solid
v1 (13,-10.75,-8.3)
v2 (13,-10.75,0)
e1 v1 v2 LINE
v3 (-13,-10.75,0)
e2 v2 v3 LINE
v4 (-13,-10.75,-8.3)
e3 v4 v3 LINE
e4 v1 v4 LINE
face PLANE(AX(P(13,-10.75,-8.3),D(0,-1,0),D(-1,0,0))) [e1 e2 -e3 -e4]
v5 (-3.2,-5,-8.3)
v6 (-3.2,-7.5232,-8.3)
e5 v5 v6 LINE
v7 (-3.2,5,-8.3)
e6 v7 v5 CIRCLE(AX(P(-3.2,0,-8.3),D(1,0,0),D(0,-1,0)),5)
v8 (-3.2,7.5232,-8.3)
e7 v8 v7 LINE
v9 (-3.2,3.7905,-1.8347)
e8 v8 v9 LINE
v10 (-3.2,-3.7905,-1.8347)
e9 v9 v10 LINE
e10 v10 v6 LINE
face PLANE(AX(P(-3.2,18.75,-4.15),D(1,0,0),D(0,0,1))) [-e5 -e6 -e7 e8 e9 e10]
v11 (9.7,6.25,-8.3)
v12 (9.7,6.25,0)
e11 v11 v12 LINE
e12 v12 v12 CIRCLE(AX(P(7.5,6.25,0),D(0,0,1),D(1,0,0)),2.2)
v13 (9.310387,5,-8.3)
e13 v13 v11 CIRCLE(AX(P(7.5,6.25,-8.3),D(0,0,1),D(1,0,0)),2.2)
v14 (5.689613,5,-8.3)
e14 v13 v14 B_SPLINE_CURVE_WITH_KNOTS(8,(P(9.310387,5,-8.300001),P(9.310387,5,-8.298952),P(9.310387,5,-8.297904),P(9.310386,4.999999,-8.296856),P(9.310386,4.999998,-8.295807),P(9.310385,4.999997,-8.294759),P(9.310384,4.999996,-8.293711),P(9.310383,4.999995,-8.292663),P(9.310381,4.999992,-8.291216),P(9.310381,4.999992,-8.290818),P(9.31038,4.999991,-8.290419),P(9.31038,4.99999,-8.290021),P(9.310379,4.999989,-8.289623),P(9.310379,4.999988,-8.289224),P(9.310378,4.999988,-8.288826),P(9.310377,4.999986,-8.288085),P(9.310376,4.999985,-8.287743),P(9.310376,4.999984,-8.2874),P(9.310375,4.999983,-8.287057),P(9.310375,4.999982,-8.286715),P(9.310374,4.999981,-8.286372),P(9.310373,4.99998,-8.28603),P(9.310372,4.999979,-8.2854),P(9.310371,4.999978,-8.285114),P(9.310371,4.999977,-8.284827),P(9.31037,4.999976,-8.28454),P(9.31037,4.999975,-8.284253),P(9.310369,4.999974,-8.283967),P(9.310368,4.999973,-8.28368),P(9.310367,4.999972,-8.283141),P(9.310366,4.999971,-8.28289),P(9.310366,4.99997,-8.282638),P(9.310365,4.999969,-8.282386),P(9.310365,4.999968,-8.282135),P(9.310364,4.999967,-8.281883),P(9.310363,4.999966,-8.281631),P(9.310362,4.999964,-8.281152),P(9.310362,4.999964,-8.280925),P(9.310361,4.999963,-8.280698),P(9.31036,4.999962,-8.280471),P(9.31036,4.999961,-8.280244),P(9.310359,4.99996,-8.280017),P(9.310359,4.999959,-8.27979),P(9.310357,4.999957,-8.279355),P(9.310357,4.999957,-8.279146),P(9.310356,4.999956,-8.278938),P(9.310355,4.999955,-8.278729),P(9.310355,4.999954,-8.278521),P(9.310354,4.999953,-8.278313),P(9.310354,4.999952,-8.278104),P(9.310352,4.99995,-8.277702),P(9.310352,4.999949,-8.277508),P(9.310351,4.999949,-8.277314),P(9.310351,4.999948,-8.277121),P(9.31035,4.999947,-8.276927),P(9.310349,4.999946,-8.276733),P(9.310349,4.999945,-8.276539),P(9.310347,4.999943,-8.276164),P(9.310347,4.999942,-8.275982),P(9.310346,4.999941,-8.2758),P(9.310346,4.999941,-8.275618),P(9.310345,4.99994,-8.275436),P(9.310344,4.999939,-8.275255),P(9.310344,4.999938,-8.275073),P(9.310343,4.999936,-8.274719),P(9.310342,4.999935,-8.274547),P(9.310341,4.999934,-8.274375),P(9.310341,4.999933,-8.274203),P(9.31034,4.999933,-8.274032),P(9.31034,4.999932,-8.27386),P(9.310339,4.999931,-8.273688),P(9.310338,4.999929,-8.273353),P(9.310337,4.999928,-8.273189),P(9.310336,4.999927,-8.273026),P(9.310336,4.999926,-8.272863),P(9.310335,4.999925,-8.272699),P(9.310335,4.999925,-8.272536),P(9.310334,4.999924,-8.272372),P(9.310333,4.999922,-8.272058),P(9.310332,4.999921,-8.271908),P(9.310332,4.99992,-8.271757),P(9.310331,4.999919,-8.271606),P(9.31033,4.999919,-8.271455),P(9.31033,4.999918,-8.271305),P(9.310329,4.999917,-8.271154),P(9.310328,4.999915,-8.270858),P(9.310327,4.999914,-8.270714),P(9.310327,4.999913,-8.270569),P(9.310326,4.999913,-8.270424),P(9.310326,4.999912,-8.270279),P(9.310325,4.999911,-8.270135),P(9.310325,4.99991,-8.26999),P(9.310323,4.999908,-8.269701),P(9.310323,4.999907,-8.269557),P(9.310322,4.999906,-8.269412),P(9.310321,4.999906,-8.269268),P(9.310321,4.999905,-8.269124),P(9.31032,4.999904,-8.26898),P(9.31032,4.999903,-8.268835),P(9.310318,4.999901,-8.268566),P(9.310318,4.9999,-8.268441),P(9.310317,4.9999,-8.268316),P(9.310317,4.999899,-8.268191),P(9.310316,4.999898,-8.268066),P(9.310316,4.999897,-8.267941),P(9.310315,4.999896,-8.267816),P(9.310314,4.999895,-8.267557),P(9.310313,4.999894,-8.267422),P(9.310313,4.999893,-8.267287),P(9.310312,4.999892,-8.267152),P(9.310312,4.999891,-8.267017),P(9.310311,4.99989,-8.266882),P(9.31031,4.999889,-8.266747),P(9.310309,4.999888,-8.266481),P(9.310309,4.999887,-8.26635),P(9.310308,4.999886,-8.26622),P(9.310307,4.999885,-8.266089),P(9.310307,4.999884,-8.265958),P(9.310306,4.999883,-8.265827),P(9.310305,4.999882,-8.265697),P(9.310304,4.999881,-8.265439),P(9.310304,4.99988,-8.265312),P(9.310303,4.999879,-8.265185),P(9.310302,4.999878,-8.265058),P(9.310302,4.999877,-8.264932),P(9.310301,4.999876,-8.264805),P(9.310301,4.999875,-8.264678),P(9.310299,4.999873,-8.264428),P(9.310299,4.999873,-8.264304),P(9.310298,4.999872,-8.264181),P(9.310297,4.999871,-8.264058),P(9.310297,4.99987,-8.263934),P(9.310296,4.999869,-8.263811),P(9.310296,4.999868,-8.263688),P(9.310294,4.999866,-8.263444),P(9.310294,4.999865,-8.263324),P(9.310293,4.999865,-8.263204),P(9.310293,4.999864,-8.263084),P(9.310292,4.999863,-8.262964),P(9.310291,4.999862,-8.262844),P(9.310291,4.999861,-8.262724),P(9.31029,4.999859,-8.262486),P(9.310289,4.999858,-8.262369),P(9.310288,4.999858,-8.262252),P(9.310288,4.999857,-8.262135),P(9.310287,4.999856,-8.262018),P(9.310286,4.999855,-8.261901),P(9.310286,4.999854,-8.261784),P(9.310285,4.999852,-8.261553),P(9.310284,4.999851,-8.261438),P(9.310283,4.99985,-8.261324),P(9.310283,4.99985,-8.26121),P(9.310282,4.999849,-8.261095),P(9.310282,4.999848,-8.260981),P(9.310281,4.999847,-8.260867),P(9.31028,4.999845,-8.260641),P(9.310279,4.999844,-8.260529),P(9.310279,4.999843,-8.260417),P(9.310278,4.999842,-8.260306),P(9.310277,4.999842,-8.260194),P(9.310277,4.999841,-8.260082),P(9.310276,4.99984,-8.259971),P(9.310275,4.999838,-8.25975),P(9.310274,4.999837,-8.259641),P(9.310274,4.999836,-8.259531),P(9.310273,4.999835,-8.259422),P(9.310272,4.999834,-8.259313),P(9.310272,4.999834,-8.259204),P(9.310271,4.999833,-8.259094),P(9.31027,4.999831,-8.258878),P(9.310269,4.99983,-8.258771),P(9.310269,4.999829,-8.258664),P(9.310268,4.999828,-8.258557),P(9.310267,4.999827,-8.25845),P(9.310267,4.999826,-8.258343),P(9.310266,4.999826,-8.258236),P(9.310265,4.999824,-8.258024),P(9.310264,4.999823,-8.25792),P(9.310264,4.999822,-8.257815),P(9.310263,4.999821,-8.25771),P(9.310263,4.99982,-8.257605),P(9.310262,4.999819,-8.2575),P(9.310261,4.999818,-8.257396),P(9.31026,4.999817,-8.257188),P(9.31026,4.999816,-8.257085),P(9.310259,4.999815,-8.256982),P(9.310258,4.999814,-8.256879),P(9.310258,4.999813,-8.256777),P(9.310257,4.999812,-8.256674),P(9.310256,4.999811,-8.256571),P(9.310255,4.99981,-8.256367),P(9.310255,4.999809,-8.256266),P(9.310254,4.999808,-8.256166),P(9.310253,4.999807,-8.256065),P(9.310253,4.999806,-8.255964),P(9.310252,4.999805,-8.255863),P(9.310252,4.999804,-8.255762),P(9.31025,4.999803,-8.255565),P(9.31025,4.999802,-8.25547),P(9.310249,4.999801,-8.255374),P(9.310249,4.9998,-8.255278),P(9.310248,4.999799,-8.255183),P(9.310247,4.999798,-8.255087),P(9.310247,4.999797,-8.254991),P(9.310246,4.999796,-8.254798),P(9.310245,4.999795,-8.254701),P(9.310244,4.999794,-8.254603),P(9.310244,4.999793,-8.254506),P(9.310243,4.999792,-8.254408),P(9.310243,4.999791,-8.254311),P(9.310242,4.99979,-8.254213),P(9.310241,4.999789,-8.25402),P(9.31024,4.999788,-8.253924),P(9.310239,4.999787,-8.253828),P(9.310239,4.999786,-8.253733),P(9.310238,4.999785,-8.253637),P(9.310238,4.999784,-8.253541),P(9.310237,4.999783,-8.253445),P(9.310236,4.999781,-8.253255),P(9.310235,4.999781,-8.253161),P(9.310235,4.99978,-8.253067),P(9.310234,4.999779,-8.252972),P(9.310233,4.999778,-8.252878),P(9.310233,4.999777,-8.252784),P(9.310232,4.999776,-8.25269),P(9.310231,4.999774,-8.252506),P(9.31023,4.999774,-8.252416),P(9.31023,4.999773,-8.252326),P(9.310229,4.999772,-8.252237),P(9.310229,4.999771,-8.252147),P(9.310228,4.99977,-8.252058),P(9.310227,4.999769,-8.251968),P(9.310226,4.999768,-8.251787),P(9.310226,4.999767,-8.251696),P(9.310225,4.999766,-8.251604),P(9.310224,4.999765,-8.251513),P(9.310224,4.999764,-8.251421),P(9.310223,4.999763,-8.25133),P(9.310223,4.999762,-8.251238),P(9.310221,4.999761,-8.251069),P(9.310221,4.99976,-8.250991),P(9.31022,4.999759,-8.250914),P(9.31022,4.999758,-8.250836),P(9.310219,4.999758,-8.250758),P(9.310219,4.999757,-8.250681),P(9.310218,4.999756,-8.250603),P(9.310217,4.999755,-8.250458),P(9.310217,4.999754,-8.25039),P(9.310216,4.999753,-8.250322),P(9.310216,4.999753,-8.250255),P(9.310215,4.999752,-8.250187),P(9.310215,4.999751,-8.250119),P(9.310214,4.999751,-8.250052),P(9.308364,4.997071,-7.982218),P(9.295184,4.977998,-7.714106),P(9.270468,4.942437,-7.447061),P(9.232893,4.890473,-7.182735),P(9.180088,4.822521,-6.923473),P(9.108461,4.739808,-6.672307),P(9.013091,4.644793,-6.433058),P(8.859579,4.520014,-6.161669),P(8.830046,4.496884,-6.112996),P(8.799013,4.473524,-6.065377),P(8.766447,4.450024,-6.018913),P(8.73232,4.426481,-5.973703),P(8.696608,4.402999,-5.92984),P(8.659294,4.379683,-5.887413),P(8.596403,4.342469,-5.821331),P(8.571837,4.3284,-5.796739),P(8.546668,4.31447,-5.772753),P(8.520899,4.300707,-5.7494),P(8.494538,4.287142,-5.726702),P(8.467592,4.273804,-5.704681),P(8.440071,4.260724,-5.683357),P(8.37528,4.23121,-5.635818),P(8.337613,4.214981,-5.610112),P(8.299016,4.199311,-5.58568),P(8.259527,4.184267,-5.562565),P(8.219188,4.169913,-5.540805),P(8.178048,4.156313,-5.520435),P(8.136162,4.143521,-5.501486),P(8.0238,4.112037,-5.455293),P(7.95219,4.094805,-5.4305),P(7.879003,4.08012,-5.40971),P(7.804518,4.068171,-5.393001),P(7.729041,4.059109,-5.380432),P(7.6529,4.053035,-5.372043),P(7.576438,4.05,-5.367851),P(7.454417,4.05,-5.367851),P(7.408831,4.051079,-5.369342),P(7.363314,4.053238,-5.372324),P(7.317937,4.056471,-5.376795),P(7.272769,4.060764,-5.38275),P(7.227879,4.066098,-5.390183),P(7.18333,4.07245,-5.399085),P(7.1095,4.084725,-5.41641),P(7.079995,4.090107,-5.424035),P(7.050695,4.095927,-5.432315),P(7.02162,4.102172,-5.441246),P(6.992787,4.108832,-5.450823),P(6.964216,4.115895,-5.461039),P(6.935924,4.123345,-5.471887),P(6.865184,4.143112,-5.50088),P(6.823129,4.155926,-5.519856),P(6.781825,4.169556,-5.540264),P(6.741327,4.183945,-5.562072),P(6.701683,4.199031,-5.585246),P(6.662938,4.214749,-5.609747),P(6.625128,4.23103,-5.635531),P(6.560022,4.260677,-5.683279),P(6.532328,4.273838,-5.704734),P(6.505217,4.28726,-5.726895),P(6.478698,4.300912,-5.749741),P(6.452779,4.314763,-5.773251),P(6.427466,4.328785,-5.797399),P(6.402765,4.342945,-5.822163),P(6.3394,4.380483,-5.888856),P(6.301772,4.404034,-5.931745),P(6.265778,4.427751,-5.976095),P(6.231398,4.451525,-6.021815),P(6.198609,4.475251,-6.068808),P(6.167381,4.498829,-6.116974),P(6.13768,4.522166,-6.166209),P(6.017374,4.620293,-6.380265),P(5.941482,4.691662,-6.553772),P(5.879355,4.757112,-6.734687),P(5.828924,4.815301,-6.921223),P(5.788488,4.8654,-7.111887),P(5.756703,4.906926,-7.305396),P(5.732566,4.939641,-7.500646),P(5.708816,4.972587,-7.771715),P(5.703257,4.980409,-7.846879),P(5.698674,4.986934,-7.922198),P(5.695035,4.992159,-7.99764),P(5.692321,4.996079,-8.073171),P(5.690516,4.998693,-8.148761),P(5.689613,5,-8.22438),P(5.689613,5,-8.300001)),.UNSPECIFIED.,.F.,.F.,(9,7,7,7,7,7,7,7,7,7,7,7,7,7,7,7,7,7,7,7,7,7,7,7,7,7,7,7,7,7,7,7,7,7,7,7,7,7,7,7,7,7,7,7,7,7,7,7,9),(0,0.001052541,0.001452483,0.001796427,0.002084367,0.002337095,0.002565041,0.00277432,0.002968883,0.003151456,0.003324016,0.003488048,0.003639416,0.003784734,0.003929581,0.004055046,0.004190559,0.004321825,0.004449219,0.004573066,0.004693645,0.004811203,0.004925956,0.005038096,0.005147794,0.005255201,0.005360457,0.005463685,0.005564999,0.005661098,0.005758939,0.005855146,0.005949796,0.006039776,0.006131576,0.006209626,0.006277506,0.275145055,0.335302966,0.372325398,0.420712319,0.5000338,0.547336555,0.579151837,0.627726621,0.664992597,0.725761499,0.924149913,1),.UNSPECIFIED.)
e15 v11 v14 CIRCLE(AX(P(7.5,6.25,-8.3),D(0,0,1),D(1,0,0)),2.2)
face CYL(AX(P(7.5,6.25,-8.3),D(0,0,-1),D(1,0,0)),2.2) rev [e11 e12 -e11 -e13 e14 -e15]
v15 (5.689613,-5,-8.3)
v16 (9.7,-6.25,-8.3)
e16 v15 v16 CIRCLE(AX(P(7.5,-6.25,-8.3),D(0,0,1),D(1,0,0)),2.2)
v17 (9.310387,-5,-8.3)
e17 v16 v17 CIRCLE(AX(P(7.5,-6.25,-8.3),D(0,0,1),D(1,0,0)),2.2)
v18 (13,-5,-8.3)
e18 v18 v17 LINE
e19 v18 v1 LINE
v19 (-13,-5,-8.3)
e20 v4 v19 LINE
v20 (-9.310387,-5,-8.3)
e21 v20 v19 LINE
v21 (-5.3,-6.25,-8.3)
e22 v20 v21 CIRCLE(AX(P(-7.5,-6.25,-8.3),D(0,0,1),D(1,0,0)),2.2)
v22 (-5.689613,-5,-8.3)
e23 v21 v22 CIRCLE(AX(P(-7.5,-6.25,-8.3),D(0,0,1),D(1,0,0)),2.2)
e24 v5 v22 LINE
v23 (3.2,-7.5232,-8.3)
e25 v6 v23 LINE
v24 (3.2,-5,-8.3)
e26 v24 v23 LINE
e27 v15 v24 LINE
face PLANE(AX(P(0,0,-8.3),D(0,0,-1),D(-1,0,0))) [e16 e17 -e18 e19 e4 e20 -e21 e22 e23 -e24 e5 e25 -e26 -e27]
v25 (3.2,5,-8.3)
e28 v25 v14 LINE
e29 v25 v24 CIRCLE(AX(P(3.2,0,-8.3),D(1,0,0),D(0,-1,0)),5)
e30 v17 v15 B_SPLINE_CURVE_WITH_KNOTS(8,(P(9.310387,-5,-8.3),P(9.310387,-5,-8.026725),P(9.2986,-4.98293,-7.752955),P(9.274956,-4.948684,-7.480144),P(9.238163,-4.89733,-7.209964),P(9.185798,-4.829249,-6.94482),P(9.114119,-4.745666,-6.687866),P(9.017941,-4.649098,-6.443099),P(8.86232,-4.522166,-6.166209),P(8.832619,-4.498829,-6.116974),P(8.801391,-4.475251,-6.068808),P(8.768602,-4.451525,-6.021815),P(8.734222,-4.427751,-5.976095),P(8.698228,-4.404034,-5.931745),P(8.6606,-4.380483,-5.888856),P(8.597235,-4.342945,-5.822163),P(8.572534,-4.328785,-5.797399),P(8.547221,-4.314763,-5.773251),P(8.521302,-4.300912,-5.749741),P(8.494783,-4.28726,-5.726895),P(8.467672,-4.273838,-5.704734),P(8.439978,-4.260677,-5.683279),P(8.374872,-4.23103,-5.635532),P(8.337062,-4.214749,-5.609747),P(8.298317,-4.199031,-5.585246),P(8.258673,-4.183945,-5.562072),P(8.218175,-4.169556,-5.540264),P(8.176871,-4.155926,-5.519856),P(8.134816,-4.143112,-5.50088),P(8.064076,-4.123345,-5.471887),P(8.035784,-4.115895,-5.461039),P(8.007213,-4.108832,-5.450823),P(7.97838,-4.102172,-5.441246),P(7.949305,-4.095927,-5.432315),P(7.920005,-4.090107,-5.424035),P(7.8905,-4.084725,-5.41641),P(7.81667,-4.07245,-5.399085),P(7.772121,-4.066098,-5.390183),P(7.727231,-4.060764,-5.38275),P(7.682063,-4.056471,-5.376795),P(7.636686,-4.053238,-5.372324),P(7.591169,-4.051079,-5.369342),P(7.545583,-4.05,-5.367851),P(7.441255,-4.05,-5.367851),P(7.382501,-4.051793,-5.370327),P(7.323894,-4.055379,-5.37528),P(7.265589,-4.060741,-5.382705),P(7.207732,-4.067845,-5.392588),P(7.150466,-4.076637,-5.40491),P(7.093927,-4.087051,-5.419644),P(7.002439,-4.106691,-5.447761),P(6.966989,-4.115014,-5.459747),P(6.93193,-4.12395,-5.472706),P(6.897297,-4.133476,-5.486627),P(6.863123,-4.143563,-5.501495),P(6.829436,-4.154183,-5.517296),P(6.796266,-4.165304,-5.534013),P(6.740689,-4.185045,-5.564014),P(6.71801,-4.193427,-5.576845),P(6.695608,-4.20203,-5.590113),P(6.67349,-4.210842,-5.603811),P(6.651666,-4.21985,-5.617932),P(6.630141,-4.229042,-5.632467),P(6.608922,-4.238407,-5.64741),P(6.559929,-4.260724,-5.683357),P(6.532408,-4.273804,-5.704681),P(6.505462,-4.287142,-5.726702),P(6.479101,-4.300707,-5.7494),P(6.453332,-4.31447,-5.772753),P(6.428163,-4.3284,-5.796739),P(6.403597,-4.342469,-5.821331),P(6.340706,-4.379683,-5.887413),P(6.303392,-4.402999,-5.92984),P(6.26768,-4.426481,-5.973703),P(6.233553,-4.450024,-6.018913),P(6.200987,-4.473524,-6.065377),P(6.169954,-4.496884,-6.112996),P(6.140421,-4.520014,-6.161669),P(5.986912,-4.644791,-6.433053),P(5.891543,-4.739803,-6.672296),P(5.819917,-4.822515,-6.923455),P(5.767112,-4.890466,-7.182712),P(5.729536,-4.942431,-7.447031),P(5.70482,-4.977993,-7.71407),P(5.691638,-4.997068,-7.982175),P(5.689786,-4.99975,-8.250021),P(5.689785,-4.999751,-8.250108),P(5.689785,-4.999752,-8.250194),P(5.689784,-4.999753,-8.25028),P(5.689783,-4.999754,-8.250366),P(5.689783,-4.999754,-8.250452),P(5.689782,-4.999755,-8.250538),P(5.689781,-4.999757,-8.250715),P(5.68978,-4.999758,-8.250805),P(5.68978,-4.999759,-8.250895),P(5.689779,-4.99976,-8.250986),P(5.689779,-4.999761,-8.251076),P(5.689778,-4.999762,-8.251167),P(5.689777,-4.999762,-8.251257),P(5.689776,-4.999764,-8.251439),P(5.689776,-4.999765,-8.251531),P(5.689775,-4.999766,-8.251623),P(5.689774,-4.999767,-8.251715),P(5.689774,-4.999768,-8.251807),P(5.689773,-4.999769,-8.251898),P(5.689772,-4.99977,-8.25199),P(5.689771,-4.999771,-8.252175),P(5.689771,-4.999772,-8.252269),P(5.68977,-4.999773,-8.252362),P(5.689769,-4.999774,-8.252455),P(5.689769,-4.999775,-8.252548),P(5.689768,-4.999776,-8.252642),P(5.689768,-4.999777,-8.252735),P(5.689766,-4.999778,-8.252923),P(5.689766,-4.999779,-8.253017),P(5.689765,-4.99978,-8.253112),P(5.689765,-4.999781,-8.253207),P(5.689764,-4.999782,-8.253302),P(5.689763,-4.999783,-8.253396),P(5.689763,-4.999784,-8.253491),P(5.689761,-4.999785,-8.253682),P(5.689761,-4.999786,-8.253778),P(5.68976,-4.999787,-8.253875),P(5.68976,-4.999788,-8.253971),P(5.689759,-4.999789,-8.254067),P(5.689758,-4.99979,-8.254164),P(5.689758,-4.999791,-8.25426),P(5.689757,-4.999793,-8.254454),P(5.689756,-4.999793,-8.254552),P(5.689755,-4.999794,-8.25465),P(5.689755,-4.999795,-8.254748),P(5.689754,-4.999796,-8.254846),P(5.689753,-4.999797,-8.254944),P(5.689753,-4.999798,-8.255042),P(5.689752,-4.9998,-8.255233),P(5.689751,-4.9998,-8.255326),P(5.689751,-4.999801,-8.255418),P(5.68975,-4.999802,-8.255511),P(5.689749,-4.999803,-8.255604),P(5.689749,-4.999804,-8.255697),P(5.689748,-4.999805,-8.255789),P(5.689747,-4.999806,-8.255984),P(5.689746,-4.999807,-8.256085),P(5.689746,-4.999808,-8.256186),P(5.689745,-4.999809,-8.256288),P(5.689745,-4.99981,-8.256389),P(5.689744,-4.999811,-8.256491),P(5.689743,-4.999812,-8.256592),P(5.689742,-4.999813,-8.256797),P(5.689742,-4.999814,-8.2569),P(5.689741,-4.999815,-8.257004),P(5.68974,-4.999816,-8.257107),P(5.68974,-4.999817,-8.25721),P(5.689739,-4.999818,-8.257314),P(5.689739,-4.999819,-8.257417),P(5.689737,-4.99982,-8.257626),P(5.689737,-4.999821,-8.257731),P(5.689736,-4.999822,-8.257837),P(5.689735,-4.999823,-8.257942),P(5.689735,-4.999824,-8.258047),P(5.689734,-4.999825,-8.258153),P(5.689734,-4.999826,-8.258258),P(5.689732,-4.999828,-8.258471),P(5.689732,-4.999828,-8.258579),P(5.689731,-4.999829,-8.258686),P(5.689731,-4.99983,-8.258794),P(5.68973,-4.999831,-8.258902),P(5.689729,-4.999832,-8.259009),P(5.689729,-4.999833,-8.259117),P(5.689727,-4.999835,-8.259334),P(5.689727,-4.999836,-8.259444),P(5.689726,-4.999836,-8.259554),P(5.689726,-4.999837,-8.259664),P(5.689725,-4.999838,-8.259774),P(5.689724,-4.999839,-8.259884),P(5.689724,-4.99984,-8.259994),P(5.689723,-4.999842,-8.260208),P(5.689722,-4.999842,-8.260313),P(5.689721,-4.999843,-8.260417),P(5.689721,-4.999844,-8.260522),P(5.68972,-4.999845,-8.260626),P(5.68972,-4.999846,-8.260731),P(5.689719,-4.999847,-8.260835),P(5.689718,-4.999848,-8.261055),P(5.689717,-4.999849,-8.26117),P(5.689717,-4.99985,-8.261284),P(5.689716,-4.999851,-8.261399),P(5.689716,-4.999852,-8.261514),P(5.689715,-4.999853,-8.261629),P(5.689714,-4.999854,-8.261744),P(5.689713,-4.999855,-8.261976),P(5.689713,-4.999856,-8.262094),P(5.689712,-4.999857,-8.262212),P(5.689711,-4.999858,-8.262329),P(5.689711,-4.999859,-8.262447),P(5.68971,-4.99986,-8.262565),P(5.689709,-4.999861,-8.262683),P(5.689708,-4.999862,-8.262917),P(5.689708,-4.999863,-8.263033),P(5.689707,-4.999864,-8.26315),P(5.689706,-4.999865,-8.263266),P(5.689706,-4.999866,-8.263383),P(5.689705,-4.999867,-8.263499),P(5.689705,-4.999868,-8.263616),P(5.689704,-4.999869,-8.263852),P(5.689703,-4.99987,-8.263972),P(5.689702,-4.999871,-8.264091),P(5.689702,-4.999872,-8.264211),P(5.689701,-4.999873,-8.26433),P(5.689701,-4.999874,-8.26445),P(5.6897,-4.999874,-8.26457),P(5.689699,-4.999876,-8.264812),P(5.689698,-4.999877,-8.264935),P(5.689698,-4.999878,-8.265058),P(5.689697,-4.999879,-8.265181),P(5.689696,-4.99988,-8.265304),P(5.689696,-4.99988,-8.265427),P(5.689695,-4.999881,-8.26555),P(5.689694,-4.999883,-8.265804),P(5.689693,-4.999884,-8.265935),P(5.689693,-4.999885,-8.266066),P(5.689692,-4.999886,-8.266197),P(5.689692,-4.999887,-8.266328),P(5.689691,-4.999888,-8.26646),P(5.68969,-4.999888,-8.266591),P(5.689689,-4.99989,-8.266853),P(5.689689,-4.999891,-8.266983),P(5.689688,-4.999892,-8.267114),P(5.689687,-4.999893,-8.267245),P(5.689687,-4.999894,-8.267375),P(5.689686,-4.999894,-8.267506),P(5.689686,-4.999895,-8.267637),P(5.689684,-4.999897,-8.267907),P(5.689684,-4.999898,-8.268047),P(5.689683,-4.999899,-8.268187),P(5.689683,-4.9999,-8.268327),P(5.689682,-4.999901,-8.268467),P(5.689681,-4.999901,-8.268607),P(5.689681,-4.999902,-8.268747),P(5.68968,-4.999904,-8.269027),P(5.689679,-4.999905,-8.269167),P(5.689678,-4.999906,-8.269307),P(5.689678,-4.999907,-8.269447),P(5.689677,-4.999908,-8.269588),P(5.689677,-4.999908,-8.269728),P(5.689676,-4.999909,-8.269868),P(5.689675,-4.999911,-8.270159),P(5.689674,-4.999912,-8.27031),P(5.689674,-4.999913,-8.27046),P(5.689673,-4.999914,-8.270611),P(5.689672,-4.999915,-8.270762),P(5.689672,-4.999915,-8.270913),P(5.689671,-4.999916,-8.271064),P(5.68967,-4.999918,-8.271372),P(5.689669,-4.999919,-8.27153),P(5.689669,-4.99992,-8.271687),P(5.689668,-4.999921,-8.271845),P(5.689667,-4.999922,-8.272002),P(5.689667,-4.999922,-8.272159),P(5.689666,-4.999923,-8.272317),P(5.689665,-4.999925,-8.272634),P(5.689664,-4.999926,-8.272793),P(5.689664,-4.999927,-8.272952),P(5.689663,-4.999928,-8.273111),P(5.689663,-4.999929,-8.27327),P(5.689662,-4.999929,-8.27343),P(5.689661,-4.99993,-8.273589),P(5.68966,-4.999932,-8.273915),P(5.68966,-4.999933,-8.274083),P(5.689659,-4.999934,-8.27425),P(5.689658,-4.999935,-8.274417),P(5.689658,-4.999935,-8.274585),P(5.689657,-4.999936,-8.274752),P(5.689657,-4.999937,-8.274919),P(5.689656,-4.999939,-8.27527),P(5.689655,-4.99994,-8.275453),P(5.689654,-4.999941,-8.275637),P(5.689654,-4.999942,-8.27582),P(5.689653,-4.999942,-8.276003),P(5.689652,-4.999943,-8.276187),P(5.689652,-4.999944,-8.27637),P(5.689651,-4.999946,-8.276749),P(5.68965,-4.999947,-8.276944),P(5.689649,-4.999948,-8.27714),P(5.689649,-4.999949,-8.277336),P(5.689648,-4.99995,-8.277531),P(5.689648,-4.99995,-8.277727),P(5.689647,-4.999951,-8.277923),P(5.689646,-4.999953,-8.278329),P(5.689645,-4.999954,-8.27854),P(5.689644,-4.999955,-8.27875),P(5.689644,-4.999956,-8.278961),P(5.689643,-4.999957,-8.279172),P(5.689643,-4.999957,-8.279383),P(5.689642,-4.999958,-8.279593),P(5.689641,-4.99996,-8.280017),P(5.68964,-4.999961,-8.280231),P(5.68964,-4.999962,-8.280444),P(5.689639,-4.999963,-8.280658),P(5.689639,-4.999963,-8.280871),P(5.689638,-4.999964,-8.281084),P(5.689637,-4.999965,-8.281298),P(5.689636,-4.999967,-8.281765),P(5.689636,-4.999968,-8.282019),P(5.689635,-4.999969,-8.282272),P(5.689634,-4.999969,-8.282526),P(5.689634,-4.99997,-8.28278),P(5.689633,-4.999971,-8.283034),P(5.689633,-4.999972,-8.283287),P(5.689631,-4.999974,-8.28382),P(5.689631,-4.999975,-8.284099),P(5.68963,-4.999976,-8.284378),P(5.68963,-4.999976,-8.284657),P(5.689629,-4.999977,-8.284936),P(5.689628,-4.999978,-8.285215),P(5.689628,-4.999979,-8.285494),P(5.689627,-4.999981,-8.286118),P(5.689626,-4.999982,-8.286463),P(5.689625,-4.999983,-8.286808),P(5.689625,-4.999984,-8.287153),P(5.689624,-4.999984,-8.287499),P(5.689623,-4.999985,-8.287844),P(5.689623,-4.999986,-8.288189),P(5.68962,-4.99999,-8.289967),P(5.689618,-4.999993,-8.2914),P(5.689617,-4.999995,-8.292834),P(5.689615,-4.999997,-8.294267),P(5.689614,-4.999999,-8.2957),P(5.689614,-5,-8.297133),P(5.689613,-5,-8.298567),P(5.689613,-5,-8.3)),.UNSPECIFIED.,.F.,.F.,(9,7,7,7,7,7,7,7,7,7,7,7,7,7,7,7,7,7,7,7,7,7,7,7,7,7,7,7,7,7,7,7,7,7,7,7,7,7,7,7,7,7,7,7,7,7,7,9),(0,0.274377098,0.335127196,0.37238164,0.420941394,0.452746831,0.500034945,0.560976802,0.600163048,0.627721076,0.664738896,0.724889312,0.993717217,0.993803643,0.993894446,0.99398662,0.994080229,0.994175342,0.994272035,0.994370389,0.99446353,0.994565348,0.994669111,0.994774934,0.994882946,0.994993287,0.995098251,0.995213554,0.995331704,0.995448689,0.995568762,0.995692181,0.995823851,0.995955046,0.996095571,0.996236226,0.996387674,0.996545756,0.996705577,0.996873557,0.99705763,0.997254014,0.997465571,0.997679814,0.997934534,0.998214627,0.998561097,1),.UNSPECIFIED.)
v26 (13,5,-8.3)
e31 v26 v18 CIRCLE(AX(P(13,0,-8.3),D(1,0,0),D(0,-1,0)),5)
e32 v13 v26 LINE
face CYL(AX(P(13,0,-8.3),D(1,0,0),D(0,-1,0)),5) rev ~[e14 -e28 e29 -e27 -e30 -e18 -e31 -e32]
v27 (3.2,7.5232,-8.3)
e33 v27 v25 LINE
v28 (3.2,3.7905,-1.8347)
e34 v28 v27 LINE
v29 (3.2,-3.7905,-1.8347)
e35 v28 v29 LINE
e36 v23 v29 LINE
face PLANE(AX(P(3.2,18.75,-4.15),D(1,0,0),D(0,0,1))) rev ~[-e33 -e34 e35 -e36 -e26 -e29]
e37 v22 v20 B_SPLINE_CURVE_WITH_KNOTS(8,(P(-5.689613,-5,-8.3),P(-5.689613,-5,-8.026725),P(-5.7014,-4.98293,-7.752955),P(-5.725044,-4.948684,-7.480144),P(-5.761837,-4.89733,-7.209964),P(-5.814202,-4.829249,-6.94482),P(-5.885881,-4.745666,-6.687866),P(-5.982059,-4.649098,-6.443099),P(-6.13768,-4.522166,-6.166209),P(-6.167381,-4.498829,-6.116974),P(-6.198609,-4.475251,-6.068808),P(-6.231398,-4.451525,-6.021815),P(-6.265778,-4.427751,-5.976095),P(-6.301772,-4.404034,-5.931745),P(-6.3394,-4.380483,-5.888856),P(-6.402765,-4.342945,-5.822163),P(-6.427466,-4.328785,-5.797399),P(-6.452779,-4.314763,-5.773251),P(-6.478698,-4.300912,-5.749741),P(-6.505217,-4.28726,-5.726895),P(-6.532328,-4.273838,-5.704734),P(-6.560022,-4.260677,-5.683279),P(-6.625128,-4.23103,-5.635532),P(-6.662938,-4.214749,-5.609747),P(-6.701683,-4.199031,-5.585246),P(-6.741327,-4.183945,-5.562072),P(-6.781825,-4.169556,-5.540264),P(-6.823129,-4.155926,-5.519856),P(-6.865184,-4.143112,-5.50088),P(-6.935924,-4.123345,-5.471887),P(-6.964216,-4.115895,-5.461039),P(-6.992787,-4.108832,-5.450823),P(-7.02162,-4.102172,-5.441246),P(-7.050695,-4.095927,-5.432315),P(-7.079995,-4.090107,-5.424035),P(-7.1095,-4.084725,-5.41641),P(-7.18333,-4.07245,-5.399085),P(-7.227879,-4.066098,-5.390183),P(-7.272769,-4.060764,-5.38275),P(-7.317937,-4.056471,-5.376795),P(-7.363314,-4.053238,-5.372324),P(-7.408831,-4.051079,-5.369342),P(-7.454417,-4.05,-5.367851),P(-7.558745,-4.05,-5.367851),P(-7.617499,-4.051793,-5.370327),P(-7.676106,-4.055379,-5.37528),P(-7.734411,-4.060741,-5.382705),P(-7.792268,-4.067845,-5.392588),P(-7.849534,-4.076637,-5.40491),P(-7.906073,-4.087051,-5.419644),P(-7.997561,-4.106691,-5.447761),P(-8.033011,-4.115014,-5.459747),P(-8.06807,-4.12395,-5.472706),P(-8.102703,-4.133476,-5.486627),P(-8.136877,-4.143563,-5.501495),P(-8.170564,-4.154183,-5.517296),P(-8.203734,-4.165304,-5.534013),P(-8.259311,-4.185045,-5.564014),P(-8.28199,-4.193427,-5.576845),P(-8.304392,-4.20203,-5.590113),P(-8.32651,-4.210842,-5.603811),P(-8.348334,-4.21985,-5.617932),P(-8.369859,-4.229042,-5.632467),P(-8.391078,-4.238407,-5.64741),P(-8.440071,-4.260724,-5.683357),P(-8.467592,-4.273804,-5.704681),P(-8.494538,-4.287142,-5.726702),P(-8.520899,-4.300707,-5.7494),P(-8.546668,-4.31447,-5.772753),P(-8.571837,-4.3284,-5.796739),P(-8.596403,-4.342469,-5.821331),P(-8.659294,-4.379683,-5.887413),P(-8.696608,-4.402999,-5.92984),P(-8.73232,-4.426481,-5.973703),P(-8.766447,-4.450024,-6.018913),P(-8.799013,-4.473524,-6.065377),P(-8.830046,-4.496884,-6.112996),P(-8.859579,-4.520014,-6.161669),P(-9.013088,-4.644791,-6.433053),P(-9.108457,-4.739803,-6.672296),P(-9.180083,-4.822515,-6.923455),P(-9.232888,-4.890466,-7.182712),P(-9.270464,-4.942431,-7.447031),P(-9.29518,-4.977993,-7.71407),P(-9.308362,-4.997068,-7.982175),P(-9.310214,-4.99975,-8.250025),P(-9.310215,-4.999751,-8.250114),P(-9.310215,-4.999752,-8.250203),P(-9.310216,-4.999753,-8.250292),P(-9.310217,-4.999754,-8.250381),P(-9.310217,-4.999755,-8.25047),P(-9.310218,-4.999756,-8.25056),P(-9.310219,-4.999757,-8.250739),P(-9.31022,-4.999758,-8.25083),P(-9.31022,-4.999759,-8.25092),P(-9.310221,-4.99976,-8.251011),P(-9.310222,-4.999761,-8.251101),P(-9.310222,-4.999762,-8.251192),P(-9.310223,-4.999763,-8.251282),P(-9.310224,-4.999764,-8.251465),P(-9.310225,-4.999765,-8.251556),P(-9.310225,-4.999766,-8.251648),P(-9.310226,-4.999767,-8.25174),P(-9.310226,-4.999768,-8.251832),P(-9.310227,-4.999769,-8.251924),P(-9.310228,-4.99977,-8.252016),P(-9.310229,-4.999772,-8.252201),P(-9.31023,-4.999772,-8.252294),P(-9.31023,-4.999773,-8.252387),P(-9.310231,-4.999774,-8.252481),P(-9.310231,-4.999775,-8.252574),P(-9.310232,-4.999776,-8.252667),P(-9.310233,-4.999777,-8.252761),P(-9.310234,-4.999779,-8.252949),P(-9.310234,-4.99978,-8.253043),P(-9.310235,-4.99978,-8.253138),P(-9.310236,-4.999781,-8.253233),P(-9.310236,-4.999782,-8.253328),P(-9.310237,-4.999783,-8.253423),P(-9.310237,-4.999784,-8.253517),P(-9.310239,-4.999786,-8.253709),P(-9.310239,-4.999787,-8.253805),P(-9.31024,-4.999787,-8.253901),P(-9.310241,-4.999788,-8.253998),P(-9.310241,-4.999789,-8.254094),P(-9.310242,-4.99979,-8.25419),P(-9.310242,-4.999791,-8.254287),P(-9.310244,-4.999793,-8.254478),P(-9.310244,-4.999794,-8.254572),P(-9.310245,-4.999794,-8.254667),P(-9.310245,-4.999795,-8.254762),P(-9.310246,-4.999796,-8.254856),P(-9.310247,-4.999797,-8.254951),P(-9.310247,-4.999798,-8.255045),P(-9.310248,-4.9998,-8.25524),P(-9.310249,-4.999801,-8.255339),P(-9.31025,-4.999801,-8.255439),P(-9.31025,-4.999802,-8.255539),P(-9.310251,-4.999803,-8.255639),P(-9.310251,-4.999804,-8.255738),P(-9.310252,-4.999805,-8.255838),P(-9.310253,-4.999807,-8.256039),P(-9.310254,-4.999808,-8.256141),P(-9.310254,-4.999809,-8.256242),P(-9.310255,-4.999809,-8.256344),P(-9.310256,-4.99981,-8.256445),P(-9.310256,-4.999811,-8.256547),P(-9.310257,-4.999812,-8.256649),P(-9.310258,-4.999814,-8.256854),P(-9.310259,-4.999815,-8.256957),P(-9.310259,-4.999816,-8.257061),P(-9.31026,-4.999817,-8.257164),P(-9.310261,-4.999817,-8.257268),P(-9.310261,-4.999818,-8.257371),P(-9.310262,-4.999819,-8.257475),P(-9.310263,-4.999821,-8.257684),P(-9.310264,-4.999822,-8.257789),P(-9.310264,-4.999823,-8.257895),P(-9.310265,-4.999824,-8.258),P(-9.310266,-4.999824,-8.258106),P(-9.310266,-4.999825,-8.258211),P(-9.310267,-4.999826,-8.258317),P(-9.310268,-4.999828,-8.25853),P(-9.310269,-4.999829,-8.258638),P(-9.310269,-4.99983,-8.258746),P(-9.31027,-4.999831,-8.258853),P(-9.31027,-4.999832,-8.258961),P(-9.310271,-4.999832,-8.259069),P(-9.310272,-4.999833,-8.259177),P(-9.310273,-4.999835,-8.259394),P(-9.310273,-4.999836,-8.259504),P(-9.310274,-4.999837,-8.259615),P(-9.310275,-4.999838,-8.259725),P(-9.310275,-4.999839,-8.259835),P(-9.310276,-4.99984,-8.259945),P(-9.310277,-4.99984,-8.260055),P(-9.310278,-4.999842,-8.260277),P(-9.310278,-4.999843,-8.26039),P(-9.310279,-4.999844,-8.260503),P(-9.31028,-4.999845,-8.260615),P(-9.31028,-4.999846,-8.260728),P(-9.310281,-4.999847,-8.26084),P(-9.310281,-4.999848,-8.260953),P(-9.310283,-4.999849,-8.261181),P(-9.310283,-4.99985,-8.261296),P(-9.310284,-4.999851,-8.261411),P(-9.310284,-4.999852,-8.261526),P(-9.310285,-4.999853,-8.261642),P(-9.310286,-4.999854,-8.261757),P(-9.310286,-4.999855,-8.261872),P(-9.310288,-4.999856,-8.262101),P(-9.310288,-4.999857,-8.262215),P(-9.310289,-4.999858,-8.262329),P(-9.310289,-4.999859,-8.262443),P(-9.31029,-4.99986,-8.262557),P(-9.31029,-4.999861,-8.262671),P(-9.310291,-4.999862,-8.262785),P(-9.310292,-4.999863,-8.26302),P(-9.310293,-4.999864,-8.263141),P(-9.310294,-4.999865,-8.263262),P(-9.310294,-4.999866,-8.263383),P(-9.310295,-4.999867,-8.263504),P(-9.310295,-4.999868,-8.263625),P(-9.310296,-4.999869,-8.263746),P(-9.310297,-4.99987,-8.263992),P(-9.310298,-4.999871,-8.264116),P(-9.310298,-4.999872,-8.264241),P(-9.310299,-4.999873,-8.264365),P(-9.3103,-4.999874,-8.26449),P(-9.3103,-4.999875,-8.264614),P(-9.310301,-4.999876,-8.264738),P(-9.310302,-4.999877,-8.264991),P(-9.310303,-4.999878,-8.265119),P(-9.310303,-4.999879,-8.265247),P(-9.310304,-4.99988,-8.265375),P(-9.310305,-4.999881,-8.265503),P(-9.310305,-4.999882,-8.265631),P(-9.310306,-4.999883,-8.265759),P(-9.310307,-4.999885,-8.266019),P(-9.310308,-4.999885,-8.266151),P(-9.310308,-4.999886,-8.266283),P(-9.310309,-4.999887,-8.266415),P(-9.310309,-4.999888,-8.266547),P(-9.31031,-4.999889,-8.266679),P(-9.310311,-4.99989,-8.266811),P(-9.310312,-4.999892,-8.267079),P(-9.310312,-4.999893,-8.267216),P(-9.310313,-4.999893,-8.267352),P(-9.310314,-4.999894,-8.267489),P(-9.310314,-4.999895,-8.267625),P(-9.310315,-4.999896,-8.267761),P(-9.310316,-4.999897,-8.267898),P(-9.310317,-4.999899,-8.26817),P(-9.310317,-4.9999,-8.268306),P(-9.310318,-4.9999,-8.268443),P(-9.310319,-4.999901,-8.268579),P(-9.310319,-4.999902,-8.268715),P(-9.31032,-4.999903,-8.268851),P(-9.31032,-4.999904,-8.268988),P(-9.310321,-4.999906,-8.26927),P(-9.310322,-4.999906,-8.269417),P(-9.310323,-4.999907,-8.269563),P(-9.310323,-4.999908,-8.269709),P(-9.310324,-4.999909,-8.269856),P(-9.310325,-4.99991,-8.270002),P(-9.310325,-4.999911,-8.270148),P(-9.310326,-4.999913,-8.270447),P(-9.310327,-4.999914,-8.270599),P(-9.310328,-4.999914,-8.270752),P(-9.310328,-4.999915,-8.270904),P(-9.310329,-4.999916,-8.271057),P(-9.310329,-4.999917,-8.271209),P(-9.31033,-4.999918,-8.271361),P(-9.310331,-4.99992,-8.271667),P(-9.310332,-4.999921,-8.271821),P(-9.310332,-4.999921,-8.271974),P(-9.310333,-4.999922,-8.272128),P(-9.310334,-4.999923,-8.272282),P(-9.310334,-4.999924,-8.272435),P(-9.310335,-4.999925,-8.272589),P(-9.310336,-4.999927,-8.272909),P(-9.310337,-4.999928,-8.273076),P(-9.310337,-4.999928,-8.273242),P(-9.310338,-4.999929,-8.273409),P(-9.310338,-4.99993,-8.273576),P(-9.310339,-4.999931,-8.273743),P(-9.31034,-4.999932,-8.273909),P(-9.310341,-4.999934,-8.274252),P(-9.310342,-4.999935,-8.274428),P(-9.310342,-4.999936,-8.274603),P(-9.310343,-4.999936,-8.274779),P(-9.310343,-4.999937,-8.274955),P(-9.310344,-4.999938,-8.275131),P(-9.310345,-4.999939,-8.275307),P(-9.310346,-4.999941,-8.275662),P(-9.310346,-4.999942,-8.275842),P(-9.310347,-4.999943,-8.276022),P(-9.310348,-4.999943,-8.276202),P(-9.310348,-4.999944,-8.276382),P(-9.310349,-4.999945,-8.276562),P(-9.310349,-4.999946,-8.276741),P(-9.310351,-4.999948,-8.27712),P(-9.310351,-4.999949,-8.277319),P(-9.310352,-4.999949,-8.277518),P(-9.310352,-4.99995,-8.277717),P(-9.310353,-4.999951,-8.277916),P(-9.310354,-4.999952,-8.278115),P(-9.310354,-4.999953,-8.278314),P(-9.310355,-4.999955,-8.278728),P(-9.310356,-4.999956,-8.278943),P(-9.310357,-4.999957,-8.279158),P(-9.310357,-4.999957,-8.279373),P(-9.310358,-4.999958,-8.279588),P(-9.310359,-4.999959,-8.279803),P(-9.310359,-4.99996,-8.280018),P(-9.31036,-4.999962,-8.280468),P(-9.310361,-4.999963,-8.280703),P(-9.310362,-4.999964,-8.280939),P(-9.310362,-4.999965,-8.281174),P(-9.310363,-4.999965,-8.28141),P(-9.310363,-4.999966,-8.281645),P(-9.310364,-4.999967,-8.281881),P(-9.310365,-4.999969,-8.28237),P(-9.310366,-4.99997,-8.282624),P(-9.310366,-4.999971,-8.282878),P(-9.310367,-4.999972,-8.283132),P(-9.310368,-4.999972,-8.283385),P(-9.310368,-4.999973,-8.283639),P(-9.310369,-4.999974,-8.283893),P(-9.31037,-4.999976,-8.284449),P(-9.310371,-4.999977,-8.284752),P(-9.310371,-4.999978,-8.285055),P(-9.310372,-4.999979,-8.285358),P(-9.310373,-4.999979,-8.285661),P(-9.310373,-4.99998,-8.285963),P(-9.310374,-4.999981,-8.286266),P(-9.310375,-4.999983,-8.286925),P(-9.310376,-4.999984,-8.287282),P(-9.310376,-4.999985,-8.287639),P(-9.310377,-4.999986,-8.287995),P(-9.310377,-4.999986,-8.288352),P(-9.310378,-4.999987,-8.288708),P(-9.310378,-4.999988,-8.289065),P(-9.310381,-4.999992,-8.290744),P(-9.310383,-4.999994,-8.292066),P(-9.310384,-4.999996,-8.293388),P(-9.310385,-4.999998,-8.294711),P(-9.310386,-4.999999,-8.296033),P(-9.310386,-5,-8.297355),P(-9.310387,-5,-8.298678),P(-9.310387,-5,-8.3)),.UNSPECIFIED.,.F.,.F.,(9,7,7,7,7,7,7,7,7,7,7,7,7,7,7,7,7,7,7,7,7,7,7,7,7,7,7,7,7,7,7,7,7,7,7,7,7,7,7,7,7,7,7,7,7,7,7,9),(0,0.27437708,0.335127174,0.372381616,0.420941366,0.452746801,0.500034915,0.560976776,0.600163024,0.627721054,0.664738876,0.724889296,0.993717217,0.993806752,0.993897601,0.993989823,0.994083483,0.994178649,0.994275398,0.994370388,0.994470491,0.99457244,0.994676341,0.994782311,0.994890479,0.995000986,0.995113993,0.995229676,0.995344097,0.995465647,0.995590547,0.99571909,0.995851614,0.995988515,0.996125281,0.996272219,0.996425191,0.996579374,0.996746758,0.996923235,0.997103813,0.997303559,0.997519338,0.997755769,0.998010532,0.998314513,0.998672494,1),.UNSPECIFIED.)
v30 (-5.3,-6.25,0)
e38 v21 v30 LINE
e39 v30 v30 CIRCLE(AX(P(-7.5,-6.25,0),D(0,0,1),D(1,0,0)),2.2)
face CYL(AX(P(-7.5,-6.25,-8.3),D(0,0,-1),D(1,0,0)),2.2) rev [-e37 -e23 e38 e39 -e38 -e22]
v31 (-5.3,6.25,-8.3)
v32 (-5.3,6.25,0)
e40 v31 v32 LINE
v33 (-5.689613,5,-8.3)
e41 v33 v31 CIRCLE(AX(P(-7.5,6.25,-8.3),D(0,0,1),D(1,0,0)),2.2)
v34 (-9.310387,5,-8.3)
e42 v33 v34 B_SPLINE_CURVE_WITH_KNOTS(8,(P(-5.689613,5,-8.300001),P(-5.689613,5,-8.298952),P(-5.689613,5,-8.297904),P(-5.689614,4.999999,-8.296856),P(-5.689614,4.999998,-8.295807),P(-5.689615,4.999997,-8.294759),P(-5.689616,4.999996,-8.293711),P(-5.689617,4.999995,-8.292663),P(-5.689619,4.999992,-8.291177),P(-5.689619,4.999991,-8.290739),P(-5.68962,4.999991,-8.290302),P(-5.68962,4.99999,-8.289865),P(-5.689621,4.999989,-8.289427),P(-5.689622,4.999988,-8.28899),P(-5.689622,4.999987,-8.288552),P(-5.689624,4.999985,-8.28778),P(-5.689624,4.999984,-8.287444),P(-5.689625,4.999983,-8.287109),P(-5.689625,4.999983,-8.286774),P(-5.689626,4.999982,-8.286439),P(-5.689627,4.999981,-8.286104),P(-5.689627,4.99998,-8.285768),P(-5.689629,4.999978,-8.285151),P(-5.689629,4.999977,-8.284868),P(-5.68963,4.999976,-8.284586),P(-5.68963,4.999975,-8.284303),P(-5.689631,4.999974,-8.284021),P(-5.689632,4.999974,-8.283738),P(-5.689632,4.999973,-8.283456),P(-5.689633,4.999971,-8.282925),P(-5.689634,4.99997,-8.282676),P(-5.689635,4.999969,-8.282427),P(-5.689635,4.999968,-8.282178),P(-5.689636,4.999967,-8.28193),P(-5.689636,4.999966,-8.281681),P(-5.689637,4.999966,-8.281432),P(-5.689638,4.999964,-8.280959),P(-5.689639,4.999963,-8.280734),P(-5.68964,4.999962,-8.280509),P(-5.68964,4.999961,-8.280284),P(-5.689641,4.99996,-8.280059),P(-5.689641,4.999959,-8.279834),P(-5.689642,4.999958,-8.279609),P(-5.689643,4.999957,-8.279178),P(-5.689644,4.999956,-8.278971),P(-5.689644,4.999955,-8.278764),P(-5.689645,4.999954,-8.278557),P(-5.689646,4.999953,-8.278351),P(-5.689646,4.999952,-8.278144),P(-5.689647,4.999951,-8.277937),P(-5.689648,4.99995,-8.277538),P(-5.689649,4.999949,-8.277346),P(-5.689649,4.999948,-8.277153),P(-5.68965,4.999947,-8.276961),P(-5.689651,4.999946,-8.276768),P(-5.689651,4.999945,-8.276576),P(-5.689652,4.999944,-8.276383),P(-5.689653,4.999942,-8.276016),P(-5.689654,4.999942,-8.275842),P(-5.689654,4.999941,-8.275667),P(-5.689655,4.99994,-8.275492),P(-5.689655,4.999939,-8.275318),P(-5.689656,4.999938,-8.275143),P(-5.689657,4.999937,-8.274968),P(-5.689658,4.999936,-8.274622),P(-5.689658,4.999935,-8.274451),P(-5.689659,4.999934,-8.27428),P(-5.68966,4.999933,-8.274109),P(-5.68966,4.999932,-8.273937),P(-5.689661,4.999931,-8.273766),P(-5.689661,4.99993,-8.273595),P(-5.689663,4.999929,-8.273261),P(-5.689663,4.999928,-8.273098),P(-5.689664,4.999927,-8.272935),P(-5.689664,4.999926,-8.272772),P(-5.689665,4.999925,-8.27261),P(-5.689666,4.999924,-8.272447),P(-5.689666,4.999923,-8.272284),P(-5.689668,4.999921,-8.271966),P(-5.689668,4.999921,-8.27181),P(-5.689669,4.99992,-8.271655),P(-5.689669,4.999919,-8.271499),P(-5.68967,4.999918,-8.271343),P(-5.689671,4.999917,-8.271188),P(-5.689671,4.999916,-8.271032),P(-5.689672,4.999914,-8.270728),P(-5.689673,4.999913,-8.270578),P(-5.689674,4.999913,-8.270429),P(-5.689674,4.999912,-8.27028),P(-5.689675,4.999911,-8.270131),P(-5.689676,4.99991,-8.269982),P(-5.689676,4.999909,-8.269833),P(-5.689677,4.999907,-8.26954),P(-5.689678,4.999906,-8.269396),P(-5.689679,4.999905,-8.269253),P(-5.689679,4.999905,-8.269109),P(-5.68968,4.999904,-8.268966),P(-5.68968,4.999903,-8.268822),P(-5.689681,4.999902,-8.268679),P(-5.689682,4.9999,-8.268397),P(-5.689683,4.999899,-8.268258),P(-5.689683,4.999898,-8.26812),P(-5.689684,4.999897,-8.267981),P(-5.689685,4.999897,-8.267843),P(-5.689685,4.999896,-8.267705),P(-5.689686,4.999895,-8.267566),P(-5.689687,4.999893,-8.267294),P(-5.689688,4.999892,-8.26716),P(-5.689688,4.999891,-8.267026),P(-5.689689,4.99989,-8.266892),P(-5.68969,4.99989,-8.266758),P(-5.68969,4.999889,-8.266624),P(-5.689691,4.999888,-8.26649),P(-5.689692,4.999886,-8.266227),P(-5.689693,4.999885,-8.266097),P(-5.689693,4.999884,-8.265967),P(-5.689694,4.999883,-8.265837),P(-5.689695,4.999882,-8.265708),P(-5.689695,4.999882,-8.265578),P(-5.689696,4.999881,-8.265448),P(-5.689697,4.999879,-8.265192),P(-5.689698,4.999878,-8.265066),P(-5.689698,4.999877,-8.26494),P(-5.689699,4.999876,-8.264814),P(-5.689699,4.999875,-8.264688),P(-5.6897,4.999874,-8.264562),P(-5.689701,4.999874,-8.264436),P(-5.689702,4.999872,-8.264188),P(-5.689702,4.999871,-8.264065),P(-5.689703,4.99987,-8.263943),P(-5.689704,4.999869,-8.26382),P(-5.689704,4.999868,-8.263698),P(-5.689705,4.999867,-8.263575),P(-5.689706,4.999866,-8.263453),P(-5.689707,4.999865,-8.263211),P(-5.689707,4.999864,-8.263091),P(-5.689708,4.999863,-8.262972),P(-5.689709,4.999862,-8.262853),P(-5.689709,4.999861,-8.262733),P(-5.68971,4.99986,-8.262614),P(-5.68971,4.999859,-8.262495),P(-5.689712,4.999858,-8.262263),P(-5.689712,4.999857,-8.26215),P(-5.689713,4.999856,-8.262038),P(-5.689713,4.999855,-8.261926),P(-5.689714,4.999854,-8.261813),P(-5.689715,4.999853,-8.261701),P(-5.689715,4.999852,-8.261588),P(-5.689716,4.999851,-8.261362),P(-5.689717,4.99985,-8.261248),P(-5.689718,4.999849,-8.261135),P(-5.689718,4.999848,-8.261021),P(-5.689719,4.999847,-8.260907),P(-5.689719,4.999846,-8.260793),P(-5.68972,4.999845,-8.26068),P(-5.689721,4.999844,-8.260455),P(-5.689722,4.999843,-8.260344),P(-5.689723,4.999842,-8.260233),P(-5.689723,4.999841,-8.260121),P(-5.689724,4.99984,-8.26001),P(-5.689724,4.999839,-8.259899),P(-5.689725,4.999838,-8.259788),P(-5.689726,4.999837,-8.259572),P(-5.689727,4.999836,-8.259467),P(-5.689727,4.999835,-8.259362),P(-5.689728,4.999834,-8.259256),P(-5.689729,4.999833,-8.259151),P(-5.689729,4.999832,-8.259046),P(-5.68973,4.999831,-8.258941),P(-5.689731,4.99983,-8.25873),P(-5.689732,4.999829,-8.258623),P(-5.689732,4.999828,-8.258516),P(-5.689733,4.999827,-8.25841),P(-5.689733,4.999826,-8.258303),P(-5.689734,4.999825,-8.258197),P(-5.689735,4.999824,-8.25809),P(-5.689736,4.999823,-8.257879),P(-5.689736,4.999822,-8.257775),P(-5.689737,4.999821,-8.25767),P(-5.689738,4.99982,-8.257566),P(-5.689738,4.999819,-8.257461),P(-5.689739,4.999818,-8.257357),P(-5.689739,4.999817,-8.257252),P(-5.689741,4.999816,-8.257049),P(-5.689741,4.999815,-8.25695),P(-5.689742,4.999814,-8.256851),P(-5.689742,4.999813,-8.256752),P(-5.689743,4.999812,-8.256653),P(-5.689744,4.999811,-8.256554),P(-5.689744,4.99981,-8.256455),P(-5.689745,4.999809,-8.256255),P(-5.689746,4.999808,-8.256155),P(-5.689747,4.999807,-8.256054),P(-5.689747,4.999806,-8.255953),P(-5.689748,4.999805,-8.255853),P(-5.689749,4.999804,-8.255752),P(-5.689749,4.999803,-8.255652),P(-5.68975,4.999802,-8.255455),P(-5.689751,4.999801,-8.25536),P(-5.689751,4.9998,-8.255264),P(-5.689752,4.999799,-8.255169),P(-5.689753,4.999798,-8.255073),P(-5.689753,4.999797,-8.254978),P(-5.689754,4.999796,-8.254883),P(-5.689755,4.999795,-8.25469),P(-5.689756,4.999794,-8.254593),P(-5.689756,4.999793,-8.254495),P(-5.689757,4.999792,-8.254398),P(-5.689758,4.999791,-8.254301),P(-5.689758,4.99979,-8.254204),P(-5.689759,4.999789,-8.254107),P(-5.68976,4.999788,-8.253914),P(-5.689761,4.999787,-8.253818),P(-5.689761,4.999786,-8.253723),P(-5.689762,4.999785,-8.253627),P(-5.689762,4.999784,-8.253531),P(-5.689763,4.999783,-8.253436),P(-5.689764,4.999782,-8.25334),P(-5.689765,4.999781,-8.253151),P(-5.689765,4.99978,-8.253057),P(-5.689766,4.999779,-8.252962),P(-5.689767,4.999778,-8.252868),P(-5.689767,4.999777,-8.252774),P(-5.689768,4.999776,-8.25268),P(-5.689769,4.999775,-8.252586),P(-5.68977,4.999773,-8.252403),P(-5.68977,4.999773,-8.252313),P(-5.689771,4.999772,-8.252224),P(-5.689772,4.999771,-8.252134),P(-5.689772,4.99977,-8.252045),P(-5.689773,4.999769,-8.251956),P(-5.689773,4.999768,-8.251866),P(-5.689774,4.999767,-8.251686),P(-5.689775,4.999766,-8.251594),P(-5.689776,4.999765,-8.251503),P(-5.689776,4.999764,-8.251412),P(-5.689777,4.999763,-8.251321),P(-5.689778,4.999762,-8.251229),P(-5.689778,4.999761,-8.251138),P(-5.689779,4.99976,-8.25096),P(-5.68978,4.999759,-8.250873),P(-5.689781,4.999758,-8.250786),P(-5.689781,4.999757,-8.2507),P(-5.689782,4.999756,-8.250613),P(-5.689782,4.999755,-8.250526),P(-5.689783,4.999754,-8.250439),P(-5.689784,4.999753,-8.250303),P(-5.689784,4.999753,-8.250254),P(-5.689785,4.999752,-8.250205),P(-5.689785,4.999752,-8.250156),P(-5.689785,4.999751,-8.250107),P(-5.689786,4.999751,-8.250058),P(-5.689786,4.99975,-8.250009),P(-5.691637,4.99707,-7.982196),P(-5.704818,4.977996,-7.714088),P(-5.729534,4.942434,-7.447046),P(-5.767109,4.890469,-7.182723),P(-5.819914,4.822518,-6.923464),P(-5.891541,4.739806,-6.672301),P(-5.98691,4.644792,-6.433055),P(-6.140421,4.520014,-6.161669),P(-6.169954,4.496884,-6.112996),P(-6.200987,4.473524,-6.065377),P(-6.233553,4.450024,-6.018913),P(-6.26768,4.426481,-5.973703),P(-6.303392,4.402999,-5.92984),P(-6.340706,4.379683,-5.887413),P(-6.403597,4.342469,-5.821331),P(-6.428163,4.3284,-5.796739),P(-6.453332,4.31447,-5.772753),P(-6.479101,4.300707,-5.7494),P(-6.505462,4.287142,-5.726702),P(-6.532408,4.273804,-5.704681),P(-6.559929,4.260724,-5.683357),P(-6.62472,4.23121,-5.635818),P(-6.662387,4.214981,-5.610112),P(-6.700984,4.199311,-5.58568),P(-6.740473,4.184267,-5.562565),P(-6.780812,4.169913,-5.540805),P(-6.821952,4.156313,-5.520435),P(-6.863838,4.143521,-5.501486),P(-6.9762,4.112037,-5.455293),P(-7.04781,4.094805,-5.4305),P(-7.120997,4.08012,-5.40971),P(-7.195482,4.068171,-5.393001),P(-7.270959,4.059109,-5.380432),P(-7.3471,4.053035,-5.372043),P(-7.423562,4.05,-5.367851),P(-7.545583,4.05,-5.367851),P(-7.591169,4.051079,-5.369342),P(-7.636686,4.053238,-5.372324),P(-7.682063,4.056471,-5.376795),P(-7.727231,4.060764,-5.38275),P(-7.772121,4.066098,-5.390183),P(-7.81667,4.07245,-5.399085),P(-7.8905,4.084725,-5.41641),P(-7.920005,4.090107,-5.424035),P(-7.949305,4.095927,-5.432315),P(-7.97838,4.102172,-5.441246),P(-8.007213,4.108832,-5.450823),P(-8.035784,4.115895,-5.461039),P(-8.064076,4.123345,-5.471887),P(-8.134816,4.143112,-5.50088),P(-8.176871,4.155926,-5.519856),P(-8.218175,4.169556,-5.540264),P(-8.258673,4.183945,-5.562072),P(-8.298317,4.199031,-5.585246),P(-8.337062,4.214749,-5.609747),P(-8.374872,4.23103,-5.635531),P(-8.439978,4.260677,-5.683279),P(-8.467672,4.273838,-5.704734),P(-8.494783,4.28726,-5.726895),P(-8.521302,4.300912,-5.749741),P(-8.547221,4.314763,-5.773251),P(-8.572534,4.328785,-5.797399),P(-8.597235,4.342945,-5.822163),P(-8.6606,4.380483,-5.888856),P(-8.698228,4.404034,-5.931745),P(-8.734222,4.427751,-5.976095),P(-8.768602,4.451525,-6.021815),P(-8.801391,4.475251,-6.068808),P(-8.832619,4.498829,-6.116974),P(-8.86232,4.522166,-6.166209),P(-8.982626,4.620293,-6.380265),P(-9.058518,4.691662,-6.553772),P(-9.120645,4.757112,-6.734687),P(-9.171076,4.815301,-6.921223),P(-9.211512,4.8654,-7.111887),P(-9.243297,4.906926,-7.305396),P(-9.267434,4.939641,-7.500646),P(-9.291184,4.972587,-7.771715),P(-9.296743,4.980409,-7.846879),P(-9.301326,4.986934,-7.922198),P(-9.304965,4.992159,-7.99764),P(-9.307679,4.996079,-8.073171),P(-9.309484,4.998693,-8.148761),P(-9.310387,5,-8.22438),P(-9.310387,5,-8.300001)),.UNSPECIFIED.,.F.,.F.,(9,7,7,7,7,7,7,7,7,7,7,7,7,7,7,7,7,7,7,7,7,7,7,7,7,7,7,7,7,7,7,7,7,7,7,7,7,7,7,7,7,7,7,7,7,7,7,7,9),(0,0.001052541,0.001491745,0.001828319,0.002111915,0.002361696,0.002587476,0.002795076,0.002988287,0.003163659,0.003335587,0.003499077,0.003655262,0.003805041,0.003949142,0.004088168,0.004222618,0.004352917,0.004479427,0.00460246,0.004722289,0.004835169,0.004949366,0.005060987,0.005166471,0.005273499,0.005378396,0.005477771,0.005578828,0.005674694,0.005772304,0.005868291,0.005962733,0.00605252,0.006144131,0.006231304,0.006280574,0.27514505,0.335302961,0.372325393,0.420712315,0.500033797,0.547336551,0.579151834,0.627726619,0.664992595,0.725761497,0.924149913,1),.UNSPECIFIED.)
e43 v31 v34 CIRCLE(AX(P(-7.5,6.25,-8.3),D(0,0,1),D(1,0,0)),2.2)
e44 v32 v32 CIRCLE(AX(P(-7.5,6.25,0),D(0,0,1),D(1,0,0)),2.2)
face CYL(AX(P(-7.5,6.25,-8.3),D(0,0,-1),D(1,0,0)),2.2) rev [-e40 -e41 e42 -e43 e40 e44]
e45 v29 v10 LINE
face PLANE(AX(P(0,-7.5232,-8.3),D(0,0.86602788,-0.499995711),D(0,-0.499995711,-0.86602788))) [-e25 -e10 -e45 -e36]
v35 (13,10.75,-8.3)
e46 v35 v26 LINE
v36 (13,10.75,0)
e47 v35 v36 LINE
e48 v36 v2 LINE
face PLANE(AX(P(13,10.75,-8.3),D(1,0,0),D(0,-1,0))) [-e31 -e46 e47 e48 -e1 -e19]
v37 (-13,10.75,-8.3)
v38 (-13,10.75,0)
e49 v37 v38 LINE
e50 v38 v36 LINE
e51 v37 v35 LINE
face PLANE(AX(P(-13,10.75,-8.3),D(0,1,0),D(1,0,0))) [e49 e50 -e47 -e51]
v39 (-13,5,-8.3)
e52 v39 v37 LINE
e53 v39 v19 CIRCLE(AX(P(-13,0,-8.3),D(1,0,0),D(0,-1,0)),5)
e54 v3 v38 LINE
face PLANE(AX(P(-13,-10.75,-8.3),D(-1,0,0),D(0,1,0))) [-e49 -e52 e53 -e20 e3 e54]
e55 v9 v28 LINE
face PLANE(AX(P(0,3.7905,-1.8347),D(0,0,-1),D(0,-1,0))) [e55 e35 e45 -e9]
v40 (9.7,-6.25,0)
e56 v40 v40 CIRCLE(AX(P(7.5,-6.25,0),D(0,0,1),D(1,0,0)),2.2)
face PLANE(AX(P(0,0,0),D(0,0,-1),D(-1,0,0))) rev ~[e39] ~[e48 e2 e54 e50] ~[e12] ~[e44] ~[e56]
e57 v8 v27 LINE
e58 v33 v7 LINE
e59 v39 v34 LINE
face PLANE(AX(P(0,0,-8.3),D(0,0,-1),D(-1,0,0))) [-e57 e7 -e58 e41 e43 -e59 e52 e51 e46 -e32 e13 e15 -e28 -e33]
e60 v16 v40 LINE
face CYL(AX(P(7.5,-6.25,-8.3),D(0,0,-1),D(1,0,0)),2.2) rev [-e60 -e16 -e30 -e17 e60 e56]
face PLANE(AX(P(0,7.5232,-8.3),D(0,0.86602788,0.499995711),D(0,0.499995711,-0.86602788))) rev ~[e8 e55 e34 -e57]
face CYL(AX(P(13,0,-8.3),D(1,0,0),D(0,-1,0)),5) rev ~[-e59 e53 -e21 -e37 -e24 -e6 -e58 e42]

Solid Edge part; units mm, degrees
sketch "Sketch1" plane through (0, 0, -8.3) normal (0, 0, 1) x (1, 0, 0)
  circle A0 centre (-7.5, -6.25) radius 2.2
  circle A1 centre (7.5, -6.25) radius 2.2
  circle A2 centre (7.5, 6.25) radius 2.2
  line L0 (-13, 10.75) -> (13, 10.75)
  line L1 (13, 10.75) -> (13, -10.75)
  line L2 (13, -10.75) -> (-13, -10.75)
  line L3 (-13, -10.75) -> (-13, 10.75)
  circle A3 centre (-7.5, 6.25) radius 2.2
  dimension "D1" = 15
  dimension "D2" = 4.4
  dimension "D3" = 12.5
extrude "Protrusion1" add sketch "Sketch1" along normal up to vertex (8.3 mm away)
sketch "Sketch2" plane through (0, 18.75, -4.15) normal (1, 0, 0) x (0, 1, 0)
  line L0 (-11.2268, -4.15) -> (-14.9595, 2.3153)
  line L1 (-14.9595, 2.3153) -> (-22.5405, 2.3153)
  line L2 (-22.5405, 2.3153) -> (-26.2732, -4.15)
  dimension "D1" = 0.2
extrude "ExtrudedCutout_1" cut sketch "Sketch2" along normal mid plane 6.4 material side at (0, 5.6135, -5.0923)
sketch "Sketch3" plane through (13, 18.75, -4.15) normal (1, 0, 0) x (0, -1, 0)
  circle A0 centre (18.75, 4.15) radius 5
  dimension "D1" = 10
extrude "Cutout1" cut sketch "Sketch3" against normal through all
